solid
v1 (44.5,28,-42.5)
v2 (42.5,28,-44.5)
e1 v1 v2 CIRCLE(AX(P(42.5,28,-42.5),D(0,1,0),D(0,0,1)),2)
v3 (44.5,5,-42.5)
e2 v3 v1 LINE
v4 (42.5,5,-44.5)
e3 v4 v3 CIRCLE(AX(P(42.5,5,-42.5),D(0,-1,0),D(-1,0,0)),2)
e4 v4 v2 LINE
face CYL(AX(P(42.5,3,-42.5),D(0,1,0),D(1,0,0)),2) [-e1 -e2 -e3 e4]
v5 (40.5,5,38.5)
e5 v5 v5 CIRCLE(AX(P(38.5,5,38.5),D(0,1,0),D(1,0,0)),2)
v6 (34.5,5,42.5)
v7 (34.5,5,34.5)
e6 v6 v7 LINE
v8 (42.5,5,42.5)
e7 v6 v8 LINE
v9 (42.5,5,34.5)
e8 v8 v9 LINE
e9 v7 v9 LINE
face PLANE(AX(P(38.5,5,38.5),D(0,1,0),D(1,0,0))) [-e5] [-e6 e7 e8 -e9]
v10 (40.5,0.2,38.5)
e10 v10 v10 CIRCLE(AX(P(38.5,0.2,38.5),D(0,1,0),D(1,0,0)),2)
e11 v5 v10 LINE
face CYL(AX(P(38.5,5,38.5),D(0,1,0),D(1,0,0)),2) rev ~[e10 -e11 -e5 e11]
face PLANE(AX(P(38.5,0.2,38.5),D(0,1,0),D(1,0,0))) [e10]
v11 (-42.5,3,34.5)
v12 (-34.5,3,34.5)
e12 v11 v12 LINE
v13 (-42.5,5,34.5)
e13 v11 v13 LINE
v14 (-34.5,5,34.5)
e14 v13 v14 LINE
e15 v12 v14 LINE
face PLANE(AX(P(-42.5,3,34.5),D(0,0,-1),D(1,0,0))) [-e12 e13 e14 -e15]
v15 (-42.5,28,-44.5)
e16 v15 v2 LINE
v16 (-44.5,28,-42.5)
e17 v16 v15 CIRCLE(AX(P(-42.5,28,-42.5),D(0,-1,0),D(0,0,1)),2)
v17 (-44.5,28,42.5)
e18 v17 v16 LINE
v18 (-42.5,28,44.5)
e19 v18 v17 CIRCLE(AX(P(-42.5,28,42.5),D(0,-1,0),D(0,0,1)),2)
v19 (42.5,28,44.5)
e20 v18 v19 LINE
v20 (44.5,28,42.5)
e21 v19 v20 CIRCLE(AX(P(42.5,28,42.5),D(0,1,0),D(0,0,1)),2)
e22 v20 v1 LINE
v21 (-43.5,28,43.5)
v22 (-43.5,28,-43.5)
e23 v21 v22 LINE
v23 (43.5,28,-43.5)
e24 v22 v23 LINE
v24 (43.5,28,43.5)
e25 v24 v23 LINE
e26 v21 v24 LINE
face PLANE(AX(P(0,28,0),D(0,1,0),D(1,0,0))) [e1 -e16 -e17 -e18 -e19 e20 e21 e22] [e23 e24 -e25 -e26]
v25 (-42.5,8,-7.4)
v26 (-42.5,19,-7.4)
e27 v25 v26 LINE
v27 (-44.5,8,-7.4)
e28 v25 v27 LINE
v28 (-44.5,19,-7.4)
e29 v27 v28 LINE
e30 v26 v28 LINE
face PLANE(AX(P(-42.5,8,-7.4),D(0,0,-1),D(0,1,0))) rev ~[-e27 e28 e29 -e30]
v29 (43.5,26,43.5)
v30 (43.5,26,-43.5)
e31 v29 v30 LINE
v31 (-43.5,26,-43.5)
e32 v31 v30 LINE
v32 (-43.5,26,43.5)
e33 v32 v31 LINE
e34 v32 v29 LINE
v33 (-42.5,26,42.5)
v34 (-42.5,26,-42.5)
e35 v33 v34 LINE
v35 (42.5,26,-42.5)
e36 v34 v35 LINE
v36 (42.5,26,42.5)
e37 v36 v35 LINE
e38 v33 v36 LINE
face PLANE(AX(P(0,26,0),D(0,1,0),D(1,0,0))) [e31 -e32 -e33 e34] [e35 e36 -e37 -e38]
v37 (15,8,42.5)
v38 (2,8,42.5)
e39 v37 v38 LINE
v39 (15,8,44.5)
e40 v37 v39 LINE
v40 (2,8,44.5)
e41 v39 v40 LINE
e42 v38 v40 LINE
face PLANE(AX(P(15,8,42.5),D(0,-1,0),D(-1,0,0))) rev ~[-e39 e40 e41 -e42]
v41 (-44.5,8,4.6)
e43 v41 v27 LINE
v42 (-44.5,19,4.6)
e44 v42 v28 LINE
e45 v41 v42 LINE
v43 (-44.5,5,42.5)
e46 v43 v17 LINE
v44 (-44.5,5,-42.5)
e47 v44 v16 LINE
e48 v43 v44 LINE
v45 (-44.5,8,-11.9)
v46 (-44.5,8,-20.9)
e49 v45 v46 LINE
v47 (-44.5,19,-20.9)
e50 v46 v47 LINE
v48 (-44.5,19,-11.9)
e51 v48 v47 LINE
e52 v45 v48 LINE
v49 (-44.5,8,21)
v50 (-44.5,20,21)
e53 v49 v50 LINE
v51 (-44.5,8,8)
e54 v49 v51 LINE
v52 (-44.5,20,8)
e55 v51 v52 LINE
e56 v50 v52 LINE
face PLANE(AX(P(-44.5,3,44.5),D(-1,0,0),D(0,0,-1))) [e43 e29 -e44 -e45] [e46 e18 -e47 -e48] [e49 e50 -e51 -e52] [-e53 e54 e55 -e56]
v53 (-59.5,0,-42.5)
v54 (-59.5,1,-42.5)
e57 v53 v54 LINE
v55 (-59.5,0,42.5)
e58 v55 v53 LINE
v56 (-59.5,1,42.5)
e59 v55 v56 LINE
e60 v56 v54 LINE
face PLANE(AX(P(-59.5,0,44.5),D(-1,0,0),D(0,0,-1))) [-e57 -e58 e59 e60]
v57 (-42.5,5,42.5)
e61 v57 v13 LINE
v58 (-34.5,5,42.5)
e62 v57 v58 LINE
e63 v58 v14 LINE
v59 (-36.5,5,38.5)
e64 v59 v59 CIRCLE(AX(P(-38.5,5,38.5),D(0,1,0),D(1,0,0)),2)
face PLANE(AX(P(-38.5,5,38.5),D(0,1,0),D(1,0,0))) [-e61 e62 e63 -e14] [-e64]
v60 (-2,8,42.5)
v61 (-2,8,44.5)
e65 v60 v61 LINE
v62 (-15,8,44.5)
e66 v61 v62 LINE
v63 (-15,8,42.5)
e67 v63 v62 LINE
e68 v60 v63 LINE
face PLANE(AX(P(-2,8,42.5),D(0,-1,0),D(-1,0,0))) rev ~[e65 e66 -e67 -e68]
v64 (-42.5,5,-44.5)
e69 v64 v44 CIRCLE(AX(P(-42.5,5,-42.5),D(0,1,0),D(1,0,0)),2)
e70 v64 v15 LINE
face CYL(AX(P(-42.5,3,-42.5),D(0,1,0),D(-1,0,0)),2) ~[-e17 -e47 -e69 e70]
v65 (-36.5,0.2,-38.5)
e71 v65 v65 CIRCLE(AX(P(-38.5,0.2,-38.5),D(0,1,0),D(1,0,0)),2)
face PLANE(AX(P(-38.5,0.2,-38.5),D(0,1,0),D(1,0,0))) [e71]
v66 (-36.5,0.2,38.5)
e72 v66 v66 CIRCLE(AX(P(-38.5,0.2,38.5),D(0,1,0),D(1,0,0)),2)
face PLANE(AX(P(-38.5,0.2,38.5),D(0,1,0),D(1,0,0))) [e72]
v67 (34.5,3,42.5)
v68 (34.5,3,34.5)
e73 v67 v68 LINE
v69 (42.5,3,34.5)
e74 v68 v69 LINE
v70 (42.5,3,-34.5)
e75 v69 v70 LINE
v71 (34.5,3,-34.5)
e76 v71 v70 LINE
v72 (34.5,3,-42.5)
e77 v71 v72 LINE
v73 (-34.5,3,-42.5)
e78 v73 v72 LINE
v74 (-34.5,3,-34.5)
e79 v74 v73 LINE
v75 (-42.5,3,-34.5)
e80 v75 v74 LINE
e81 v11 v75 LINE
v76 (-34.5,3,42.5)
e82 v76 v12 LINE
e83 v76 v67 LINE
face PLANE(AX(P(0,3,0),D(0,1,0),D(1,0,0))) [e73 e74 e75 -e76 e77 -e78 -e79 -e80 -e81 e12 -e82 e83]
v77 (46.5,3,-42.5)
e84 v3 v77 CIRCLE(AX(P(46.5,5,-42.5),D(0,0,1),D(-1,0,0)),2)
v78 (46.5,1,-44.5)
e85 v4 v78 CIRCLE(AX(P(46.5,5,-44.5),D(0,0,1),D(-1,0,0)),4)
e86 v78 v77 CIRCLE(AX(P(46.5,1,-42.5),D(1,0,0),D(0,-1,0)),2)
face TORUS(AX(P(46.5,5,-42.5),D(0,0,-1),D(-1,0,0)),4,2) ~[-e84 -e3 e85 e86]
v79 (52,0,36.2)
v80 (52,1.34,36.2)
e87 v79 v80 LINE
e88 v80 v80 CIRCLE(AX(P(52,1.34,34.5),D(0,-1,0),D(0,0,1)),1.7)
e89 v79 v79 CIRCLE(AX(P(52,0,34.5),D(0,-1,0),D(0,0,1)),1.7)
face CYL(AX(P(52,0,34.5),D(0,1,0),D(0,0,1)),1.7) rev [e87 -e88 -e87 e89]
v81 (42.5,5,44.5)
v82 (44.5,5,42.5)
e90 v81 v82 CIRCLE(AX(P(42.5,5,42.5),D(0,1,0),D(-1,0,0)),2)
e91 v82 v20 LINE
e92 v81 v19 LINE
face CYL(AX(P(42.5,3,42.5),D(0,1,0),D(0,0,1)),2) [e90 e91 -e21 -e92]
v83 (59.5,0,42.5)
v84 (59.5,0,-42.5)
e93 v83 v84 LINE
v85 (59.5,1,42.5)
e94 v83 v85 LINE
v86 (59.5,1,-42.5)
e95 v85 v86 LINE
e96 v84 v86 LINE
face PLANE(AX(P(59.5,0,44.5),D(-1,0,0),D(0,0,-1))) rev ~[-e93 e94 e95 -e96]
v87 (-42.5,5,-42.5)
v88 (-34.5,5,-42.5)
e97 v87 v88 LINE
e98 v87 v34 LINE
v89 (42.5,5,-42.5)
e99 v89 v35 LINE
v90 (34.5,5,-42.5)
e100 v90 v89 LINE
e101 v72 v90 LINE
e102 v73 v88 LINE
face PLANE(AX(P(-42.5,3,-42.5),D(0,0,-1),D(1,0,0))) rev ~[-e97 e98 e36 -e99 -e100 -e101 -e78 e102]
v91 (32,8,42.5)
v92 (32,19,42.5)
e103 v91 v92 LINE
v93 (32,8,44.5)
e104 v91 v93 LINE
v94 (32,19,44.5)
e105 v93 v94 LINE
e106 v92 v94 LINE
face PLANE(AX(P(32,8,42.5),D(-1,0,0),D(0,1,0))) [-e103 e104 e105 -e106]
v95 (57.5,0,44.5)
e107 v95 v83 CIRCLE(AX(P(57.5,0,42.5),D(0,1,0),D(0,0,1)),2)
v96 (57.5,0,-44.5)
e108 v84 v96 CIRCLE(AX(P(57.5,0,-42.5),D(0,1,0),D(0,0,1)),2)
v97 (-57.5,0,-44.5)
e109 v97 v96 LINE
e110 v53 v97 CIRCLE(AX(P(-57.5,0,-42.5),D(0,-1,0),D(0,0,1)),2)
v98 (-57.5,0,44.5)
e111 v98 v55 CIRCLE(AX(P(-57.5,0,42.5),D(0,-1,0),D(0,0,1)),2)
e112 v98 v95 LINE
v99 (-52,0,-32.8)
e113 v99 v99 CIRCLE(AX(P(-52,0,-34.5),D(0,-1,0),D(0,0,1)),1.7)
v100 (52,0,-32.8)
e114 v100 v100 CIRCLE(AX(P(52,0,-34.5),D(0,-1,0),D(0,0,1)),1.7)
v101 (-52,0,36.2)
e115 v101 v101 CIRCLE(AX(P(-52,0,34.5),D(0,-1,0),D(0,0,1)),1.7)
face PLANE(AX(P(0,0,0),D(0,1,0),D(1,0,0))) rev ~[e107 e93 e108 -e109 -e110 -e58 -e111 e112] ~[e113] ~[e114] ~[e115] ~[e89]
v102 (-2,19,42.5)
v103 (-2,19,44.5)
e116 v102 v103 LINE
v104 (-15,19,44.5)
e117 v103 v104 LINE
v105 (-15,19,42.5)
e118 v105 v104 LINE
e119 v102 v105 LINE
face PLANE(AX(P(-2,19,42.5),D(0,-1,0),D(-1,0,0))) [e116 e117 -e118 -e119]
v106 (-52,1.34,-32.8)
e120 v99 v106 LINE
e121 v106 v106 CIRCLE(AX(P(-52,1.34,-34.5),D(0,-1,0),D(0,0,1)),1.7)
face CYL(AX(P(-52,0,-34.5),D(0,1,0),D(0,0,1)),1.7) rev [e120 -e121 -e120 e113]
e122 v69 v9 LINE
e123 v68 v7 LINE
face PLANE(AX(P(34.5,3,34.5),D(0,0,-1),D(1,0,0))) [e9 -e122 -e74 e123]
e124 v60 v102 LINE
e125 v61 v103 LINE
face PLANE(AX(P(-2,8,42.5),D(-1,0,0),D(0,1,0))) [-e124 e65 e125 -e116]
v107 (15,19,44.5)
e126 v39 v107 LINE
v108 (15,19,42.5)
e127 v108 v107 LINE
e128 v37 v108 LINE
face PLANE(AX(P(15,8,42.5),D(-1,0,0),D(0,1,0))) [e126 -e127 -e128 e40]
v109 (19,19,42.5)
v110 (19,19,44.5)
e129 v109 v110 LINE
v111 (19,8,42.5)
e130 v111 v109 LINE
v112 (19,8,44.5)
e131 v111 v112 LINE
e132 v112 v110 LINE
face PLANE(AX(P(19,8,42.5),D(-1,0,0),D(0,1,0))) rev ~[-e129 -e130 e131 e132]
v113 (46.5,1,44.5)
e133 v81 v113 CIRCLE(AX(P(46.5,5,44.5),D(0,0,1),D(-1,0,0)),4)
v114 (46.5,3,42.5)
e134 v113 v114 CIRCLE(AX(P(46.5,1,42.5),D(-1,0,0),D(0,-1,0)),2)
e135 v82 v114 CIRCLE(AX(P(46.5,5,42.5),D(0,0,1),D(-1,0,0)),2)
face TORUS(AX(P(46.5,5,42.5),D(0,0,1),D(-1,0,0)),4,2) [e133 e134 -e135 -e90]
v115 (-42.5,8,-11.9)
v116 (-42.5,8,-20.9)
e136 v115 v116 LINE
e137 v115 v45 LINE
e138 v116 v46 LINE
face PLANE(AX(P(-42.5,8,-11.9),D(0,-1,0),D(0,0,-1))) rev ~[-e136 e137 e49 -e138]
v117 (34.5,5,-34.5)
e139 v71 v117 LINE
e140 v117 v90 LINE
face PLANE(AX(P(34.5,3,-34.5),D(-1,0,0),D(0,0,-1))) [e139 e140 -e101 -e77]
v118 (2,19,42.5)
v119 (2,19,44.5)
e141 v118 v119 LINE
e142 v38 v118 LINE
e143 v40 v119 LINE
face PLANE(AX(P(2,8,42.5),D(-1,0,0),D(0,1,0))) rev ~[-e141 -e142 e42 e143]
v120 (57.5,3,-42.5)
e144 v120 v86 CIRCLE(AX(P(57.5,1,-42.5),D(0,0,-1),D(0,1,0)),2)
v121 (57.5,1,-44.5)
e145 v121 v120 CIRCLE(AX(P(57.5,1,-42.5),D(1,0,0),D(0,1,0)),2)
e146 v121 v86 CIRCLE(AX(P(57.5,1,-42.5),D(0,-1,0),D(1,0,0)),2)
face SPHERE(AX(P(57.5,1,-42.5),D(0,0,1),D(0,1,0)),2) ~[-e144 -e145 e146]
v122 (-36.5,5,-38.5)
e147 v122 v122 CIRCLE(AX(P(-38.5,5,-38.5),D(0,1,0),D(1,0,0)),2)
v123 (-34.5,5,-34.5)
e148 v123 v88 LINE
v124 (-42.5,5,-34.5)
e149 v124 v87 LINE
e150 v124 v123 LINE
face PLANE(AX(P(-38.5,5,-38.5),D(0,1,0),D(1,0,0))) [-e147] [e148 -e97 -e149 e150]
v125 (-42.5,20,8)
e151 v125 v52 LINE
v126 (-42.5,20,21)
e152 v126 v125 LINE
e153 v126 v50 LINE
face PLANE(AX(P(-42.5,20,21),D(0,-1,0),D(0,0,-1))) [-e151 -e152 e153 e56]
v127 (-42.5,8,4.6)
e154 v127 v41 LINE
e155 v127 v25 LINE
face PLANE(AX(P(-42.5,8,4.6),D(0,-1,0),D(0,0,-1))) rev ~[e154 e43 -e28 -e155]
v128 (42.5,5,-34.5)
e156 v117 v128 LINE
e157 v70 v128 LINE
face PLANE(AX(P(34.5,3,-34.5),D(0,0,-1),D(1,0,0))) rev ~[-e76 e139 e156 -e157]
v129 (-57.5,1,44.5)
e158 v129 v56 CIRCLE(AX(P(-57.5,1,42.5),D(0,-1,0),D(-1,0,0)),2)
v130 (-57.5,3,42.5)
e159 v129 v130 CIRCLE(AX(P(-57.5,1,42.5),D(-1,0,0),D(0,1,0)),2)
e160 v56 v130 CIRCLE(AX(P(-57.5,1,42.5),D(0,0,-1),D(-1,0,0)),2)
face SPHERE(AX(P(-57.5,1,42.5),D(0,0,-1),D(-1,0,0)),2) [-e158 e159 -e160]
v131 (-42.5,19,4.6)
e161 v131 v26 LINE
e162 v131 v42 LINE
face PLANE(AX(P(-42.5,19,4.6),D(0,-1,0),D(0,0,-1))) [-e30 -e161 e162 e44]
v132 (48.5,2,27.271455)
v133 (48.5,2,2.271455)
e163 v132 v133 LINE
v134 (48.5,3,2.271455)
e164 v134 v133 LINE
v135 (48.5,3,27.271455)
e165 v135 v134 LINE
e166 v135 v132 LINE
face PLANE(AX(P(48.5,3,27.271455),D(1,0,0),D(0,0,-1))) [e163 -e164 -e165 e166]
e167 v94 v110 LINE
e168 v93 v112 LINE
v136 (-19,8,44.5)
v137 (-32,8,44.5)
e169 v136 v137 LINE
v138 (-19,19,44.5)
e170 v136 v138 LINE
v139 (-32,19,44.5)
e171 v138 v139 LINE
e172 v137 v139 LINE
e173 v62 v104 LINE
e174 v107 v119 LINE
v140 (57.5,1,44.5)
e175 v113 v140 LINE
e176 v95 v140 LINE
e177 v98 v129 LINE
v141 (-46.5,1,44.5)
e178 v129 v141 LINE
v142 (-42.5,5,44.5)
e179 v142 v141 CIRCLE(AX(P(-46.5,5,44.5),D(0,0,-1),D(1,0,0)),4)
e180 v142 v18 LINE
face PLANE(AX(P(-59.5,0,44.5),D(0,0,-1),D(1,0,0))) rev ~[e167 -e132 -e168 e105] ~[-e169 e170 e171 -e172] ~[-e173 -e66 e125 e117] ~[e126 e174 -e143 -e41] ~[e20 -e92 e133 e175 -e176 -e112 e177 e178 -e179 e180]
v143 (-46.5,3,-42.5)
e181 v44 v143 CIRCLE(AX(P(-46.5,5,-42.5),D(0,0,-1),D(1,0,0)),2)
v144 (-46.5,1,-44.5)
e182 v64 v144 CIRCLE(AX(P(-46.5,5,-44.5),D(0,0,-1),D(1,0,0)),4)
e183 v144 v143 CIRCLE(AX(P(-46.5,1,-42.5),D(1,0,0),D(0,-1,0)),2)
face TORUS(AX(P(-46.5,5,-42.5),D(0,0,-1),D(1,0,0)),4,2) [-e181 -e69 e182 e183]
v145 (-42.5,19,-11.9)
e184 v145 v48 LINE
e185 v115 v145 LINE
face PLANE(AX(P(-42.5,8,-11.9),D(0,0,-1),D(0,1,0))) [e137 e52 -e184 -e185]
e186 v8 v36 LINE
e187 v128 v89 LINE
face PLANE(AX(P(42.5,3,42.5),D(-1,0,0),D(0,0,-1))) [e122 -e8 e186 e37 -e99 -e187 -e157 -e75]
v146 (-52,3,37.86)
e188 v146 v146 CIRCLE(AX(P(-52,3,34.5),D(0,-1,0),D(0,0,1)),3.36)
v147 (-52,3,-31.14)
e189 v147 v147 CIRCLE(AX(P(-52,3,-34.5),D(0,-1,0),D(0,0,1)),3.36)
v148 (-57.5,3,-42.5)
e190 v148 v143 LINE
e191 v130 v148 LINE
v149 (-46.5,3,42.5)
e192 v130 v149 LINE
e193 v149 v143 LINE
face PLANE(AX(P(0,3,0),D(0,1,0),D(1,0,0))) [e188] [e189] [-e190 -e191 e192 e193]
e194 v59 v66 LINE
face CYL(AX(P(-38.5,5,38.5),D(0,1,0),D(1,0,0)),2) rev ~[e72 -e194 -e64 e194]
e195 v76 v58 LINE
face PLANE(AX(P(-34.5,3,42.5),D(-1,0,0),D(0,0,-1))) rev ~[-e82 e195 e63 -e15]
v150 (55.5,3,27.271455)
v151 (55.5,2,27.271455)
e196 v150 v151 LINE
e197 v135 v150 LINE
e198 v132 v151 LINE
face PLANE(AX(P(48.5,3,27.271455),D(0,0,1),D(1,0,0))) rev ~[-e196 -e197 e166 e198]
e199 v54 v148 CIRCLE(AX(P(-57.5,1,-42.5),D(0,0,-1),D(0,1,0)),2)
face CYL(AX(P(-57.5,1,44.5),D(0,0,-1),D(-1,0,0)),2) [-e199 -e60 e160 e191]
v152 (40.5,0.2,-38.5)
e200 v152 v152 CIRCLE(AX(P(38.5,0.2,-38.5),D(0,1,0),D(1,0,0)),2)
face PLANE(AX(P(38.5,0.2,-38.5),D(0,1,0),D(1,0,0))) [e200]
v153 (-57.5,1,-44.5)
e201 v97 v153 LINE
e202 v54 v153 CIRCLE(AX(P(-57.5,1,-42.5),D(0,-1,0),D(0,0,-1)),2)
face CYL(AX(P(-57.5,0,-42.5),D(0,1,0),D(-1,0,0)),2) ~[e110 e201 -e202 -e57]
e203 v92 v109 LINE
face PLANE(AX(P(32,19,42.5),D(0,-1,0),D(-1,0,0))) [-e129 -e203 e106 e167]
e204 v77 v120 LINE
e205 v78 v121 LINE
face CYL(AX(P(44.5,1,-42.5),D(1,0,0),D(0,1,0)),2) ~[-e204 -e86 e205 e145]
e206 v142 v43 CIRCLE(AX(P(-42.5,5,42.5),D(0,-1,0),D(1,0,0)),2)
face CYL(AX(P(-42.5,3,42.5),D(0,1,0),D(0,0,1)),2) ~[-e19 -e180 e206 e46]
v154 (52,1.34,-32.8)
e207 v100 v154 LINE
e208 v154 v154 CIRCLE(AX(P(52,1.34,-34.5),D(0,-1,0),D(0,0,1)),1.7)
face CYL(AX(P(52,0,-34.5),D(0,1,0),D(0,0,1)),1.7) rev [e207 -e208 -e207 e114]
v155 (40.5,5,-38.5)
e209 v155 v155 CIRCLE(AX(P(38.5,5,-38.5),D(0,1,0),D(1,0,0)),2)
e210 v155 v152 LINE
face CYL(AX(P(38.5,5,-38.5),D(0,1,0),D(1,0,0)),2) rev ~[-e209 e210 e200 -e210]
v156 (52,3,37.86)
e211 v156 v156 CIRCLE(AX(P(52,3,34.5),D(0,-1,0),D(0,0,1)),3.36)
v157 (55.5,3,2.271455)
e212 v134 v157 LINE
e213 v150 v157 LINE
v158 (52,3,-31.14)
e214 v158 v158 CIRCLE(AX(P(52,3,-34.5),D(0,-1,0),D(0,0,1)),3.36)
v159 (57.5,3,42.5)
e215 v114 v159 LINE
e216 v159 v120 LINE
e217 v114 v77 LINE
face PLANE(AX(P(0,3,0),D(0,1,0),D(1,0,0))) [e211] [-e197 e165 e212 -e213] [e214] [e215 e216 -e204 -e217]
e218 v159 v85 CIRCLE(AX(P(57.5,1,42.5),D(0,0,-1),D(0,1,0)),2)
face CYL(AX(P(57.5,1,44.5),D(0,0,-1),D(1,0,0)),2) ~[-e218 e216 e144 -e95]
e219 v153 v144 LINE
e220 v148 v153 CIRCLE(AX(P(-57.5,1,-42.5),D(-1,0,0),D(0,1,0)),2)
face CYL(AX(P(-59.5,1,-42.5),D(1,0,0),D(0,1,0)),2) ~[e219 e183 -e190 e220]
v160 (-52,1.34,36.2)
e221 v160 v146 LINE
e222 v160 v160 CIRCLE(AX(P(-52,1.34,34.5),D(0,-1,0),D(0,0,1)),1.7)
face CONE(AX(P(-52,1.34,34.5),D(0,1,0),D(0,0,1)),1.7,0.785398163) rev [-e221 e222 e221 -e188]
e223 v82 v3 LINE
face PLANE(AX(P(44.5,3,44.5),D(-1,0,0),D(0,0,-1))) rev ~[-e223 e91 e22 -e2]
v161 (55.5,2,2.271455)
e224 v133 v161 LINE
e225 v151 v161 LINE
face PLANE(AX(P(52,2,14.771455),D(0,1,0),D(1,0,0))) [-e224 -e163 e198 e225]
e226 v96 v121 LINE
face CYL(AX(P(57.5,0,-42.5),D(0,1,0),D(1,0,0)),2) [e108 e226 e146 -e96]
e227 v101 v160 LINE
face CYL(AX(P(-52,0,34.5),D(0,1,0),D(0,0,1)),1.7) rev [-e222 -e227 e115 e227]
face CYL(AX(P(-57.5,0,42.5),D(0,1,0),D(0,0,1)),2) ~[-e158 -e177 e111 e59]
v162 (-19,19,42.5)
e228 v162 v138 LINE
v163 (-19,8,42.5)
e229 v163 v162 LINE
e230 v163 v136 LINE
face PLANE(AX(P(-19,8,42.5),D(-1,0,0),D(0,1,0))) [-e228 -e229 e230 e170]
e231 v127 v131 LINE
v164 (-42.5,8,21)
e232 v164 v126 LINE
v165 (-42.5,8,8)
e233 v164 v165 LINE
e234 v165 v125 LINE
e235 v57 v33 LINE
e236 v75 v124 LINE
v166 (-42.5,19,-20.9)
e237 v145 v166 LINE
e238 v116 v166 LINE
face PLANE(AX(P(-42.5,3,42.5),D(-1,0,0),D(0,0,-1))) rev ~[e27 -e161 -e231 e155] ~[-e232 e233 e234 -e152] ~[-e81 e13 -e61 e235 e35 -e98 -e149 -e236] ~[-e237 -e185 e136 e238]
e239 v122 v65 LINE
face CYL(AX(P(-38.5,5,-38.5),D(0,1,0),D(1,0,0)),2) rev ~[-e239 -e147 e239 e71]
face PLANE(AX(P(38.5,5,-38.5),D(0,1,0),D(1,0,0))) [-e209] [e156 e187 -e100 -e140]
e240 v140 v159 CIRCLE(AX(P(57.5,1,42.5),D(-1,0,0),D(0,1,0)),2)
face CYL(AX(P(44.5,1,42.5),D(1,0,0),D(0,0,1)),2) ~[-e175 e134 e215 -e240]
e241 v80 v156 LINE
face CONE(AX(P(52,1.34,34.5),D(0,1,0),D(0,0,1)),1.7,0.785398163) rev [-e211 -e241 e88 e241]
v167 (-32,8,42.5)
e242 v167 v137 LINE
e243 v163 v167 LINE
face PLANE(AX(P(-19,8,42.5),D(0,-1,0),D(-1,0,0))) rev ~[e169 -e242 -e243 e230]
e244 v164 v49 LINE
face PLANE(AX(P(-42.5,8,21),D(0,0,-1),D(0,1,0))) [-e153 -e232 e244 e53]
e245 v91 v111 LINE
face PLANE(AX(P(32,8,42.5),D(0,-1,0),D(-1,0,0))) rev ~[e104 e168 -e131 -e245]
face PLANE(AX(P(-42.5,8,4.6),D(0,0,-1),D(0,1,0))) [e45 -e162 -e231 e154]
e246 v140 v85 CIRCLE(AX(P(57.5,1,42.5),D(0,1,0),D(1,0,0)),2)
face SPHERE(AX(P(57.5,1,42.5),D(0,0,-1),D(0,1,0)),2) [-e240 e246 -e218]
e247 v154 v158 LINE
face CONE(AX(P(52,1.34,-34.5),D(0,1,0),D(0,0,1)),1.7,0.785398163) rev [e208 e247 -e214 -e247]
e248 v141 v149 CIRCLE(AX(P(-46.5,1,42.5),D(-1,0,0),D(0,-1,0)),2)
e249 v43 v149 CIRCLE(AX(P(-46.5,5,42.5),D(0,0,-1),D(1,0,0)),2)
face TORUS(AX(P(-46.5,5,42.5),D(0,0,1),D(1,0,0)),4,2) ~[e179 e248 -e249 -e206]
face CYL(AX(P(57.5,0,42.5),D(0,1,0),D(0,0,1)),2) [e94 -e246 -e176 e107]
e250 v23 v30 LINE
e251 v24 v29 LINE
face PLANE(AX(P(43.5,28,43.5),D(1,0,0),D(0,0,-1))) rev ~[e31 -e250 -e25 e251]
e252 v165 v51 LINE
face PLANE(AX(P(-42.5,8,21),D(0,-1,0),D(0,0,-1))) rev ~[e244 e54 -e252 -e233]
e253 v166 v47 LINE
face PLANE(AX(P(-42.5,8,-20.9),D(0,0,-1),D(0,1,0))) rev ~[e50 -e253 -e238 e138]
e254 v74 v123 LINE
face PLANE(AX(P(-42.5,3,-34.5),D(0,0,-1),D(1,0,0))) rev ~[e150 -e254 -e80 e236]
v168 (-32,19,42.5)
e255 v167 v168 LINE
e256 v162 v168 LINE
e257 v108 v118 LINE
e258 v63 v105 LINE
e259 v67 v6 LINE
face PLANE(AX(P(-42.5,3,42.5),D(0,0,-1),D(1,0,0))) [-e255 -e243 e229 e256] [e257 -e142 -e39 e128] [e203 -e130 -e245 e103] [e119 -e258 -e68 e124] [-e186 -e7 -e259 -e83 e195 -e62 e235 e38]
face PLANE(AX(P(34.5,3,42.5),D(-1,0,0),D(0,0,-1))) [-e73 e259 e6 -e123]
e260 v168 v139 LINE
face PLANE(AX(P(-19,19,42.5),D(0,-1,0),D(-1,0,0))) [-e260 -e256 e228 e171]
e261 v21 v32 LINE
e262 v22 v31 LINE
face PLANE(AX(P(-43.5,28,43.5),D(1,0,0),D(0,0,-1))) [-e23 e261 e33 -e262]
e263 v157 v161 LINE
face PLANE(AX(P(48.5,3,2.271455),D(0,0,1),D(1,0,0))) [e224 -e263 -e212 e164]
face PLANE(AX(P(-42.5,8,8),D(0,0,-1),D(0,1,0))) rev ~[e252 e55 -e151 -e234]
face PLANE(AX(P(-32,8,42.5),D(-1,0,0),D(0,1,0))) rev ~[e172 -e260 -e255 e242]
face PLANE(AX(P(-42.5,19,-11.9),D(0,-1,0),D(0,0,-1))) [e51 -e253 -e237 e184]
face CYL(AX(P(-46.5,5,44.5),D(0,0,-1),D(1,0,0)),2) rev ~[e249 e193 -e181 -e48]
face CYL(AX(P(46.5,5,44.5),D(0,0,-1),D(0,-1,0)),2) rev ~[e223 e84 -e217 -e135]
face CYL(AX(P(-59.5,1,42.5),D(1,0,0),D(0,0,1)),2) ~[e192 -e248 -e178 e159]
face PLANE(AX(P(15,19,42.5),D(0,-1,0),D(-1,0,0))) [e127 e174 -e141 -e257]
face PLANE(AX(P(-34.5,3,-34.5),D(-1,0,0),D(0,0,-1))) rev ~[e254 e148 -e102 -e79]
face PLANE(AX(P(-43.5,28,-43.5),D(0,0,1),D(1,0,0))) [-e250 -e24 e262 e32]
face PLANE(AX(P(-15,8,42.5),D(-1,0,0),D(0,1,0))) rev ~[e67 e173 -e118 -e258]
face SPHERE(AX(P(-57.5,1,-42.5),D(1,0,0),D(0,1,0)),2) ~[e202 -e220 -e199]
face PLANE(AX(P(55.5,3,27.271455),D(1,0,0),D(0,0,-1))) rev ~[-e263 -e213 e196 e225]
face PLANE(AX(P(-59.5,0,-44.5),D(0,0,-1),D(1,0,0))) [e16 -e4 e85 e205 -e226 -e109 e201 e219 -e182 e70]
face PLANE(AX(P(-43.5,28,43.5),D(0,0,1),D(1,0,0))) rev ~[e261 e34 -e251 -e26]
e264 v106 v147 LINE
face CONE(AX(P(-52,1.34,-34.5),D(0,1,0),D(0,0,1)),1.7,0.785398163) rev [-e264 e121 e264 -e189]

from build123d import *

# Parameters (mm, degrees)
SKETCH1_W                    = 119
SKETCH1_H                    = 89
BOSS_EXTRUDE2_DEPTH          = 3
SKETCH3_W                    = 89
SKETCH3_H                    = 89
SKETCH3_W_2                  = 85
SKETCH3_H_2                  = 85
BOSS_EXTRUDE3_DEPTH          = 25
SKETCH4_W                    = 87
SKETCH4_H                    = 87
CUT_EXTRUDE1_DEPTH           = 2
SKETCH6_W                    = 8
SKETCH6_H                    = 8
BOSS_EXTRUDE4_DEPTH          = 2
SKETCH7_R                    = 2
CUT_EXTRUDE2_DEPTH           = 4.8
SKETCH8_W                    = 9
SKETCH8_H                    = 11
SKETCH8_W_2                  = 12
SKETCH8_W_3                  = 13
SKETCH8_H_2                  = 12
CUT_EXTRUDE3_DEPTH           = 2
SKETCH9_W                    = 13
SKETCH9_H                    = 11
CUT_EXTRUDE4_DEPTH           = 2
SKETCH10_R                   = 1.6
CUT_EXTRUDE5_DEPTH           = 3
SKETCH11_W                   = 7
SKETCH11_H                   = 25
CUT_EXTRUDE6_DEPTH           = 1
FILLET2_R                    = 2
CSK_FOR_M3_SFHCS1_AT_2_COUNT = 2
CSK_FOR_M3_SFHCS1_AT_2_PITCH = 69
CSK_FOR_M3_SFHCS1_AT_3_COUNT = 2
CSK_FOR_M3_SFHCS1_AT_3_PITCH = 124.807852317
CSK_FOR_M3_SFHCS1_AT_4_COUNT = 2
CSK_FOR_M3_SFHCS1_AT_4_PITCH = 104


with BuildPart() as part:
    # Sketch1 → Boss-Extrude2 (new body)
    with BuildSketch(Plane(origin=(0, 0, 0), x_dir=(1, 0, 0), z_dir=(0, 1, 0))):
        Rectangle(SKETCH1_W, SKETCH1_H)
    extrude(amount=BOSS_EXTRUDE2_DEPTH)

    # Sketch3 → Boss-Extrude3 (add)
    with BuildSketch(Plane(origin=(0, 3, 0), x_dir=(1, 0, 0), z_dir=(0, 1, 0))):
        Rectangle(SKETCH3_W, SKETCH3_H)
        Rectangle(SKETCH3_W_2, SKETCH3_H_2, mode=Mode.SUBTRACT)
    extrude(amount=BOSS_EXTRUDE3_DEPTH)

    # Sketch4 → Cut-Extrude1 (cut)
    with BuildSketch(Plane(origin=(0, 28, 0), x_dir=(1, 0, 0), z_dir=(0, 1, 0))):
        Rectangle(SKETCH4_W, SKETCH4_H)
    extrude(amount=-CUT_EXTRUDE1_DEPTH, mode=Mode.SUBTRACT)

    # Sketch6 → Boss-Extrude4 (add)
    with BuildSketch(Plane(origin=(0, 3, 0), x_dir=(1, 0, 0), z_dir=(0, 1, 0))):
        with Locations((-38.5, -38.5)):
            Rectangle(SKETCH6_W, SKETCH6_H)
        with Locations((-38.5, 38.5)):
            Rectangle(SKETCH6_W, SKETCH6_H)
        with Locations((38.5, 38.5)):
            Rectangle(SKETCH6_W, SKETCH6_H)
        with Locations((38.5, -38.5)):
            Rectangle(SKETCH6_W, SKETCH6_H)
    extrude(amount=BOSS_EXTRUDE4_DEPTH)

    # Sketch7 → Cut-Extrude2 (cut)
    with BuildSketch(Plane(origin=(0, 5, 0), x_dir=(1, 0, 0), z_dir=(0, 1, 0))):
        with Locations((-38.5, 38.5)):
            Circle(SKETCH7_R)
        with Locations((38.5, 38.5)):
            Circle(SKETCH7_R)
        with Locations((-38.5, -38.5)):
            Circle(SKETCH7_R)
        with Locations((38.5, -38.5)):
            Circle(SKETCH7_R)
    extrude(amount=-CUT_EXTRUDE2_DEPTH, mode=Mode.SUBTRACT)

    # Sketch8 → Cut-Extrude3 (cut)
    with BuildSketch(Plane(origin=(-42.5, 0, 0), x_dir=(0, 0, -1), z_dir=(1, 0, 0))):
        with Locations((16.4, 13.5)):
            Rectangle(SKETCH8_W, SKETCH8_H)
        with Locations((1.4, 13.5)):
            Rectangle(SKETCH8_W_2, SKETCH8_H)
        with Locations((-14.5, 14)):
            Rectangle(SKETCH8_W_3, SKETCH8_H_2)
    extrude(amount=-CUT_EXTRUDE3_DEPTH, mode=Mode.SUBTRACT)

    # Sketch9 → Cut-Extrude4 (cut)
    with BuildSketch(Plane(origin=(0, 0, 42.5), x_dir=(-1, 0, 0), z_dir=(0, 0, -1))):
        with Locations((8.5, 13.5)):
            Rectangle(SKETCH9_W, SKETCH9_H)
        with Locations((25.5, 13.5)):
            Rectangle(SKETCH9_W, SKETCH9_H)
        with Locations((-8.5, 13.5)):
            Rectangle(SKETCH9_W, SKETCH9_H)
        with Locations((-25.5, 13.5)):
            Rectangle(SKETCH9_W, SKETCH9_H)
    extrude(amount=-CUT_EXTRUDE4_DEPTH, mode=Mode.SUBTRACT)

    # Sketch10 → Cut-Extrude5 (cut)
    with BuildSketch(Plane(origin=(0, 3, 0), x_dir=(1, 0, 0), z_dir=(0, 1, 0))):
        with Locations((-52, 34.5)):
            Circle(SKETCH10_R)
        with Locations((-52, -34.5)):
            Circle(SKETCH10_R)
        with Locations((52, 34.5)):
            Circle(SKETCH10_R)
        with Locations((52, -34.5)):
            Circle(SKETCH10_R)
    extrude(amount=-CUT_EXTRUDE5_DEPTH, mode=Mode.SUBTRACT)

    # Sketch11 → Cut-Extrude6 (cut)
    with BuildSketch(Plane(origin=(0, 3, 0), x_dir=(1, 0, 0), z_dir=(0, 1, 0))):
        with Locations((52, -14.77145541)):
            Rectangle(SKETCH11_W, SKETCH11_H)
    extrude(amount=-CUT_EXTRUDE6_DEPTH, mode=Mode.SUBTRACT)

    # Fillet2
    fillet2_edges = [part.edges().sort_by_distance(p)[0] for p in [
        (59.5, 3, 0),
        (52, 3, 44.5),
        (-52, 3, -44.5),
        (52, 3, -44.5),
        (-44.5, 3, 0),
        (-44.5, 15.5, -44.5),
        (-44.5, 15.5, 44.5),
        (44.5, 3, 0),
        (44.5, 15.5, 44.5),
        (44.5, 15.5, -44.5),
        (-59.5, 3, 0),
        (-59.5, 1.5, -44.5),
        (59.5, 1.5, -44.5),
        (59.5, 1.5, 44.5),
        (-59.5, 1.5, 44.5),
        (-52, 3, 44.5),
    ]]
    fillet(fillet2_edges, radius=FILLET2_R)

    # Sketch13 → CSK for M3 SFHCS1 (revolve, cut)
    with BuildSketch(Plane(origin=(52, 3, -34.5), x_dir=(0, 0, 1), z_dir=(1, 0, 0))):
        Polygon((0, 0), (0, 3), (1.7, 3), (1.7, 1.66), (3.36, 0), align=None)
    csk_for_m3_sfhcs1 = revolve(axis=Axis((52, 9.35, -34.5), (0, -1, 0)), mode=Mode.SUBTRACT)

    # CSK for M3 SFHCS1 at 2: CSK for M3 SFHCS1 ×2
    with Locations(*[(0, 0, i * CSK_FOR_M3_SFHCS1_AT_2_PITCH) for i in range(1, CSK_FOR_M3_SFHCS1_AT_2_COUNT)]):
        add(csk_for_m3_sfhcs1, mode=Mode.SUBTRACT)

    # CSK for M3 SFHCS1 at 3: CSK for M3 SFHCS1 ×2
    with Locations(*[Vector(-0.833280904, 0, 0.552849831) * (i * CSK_FOR_M3_SFHCS1_AT_3_PITCH) for i in range(1, CSK_FOR_M3_SFHCS1_AT_3_COUNT)]):
        add(csk_for_m3_sfhcs1, mode=Mode.SUBTRACT)

    # CSK for M3 SFHCS1 at 4: CSK for M3 SFHCS1 ×2
    with Locations(*[(-i * CSK_FOR_M3_SFHCS1_AT_4_PITCH, 0, 0) for i in range(1, CSK_FOR_M3_SFHCS1_AT_4_COUNT)]):
        add(csk_for_m3_sfhcs1, mode=Mode.SUBTRACT)


solid = part.part
